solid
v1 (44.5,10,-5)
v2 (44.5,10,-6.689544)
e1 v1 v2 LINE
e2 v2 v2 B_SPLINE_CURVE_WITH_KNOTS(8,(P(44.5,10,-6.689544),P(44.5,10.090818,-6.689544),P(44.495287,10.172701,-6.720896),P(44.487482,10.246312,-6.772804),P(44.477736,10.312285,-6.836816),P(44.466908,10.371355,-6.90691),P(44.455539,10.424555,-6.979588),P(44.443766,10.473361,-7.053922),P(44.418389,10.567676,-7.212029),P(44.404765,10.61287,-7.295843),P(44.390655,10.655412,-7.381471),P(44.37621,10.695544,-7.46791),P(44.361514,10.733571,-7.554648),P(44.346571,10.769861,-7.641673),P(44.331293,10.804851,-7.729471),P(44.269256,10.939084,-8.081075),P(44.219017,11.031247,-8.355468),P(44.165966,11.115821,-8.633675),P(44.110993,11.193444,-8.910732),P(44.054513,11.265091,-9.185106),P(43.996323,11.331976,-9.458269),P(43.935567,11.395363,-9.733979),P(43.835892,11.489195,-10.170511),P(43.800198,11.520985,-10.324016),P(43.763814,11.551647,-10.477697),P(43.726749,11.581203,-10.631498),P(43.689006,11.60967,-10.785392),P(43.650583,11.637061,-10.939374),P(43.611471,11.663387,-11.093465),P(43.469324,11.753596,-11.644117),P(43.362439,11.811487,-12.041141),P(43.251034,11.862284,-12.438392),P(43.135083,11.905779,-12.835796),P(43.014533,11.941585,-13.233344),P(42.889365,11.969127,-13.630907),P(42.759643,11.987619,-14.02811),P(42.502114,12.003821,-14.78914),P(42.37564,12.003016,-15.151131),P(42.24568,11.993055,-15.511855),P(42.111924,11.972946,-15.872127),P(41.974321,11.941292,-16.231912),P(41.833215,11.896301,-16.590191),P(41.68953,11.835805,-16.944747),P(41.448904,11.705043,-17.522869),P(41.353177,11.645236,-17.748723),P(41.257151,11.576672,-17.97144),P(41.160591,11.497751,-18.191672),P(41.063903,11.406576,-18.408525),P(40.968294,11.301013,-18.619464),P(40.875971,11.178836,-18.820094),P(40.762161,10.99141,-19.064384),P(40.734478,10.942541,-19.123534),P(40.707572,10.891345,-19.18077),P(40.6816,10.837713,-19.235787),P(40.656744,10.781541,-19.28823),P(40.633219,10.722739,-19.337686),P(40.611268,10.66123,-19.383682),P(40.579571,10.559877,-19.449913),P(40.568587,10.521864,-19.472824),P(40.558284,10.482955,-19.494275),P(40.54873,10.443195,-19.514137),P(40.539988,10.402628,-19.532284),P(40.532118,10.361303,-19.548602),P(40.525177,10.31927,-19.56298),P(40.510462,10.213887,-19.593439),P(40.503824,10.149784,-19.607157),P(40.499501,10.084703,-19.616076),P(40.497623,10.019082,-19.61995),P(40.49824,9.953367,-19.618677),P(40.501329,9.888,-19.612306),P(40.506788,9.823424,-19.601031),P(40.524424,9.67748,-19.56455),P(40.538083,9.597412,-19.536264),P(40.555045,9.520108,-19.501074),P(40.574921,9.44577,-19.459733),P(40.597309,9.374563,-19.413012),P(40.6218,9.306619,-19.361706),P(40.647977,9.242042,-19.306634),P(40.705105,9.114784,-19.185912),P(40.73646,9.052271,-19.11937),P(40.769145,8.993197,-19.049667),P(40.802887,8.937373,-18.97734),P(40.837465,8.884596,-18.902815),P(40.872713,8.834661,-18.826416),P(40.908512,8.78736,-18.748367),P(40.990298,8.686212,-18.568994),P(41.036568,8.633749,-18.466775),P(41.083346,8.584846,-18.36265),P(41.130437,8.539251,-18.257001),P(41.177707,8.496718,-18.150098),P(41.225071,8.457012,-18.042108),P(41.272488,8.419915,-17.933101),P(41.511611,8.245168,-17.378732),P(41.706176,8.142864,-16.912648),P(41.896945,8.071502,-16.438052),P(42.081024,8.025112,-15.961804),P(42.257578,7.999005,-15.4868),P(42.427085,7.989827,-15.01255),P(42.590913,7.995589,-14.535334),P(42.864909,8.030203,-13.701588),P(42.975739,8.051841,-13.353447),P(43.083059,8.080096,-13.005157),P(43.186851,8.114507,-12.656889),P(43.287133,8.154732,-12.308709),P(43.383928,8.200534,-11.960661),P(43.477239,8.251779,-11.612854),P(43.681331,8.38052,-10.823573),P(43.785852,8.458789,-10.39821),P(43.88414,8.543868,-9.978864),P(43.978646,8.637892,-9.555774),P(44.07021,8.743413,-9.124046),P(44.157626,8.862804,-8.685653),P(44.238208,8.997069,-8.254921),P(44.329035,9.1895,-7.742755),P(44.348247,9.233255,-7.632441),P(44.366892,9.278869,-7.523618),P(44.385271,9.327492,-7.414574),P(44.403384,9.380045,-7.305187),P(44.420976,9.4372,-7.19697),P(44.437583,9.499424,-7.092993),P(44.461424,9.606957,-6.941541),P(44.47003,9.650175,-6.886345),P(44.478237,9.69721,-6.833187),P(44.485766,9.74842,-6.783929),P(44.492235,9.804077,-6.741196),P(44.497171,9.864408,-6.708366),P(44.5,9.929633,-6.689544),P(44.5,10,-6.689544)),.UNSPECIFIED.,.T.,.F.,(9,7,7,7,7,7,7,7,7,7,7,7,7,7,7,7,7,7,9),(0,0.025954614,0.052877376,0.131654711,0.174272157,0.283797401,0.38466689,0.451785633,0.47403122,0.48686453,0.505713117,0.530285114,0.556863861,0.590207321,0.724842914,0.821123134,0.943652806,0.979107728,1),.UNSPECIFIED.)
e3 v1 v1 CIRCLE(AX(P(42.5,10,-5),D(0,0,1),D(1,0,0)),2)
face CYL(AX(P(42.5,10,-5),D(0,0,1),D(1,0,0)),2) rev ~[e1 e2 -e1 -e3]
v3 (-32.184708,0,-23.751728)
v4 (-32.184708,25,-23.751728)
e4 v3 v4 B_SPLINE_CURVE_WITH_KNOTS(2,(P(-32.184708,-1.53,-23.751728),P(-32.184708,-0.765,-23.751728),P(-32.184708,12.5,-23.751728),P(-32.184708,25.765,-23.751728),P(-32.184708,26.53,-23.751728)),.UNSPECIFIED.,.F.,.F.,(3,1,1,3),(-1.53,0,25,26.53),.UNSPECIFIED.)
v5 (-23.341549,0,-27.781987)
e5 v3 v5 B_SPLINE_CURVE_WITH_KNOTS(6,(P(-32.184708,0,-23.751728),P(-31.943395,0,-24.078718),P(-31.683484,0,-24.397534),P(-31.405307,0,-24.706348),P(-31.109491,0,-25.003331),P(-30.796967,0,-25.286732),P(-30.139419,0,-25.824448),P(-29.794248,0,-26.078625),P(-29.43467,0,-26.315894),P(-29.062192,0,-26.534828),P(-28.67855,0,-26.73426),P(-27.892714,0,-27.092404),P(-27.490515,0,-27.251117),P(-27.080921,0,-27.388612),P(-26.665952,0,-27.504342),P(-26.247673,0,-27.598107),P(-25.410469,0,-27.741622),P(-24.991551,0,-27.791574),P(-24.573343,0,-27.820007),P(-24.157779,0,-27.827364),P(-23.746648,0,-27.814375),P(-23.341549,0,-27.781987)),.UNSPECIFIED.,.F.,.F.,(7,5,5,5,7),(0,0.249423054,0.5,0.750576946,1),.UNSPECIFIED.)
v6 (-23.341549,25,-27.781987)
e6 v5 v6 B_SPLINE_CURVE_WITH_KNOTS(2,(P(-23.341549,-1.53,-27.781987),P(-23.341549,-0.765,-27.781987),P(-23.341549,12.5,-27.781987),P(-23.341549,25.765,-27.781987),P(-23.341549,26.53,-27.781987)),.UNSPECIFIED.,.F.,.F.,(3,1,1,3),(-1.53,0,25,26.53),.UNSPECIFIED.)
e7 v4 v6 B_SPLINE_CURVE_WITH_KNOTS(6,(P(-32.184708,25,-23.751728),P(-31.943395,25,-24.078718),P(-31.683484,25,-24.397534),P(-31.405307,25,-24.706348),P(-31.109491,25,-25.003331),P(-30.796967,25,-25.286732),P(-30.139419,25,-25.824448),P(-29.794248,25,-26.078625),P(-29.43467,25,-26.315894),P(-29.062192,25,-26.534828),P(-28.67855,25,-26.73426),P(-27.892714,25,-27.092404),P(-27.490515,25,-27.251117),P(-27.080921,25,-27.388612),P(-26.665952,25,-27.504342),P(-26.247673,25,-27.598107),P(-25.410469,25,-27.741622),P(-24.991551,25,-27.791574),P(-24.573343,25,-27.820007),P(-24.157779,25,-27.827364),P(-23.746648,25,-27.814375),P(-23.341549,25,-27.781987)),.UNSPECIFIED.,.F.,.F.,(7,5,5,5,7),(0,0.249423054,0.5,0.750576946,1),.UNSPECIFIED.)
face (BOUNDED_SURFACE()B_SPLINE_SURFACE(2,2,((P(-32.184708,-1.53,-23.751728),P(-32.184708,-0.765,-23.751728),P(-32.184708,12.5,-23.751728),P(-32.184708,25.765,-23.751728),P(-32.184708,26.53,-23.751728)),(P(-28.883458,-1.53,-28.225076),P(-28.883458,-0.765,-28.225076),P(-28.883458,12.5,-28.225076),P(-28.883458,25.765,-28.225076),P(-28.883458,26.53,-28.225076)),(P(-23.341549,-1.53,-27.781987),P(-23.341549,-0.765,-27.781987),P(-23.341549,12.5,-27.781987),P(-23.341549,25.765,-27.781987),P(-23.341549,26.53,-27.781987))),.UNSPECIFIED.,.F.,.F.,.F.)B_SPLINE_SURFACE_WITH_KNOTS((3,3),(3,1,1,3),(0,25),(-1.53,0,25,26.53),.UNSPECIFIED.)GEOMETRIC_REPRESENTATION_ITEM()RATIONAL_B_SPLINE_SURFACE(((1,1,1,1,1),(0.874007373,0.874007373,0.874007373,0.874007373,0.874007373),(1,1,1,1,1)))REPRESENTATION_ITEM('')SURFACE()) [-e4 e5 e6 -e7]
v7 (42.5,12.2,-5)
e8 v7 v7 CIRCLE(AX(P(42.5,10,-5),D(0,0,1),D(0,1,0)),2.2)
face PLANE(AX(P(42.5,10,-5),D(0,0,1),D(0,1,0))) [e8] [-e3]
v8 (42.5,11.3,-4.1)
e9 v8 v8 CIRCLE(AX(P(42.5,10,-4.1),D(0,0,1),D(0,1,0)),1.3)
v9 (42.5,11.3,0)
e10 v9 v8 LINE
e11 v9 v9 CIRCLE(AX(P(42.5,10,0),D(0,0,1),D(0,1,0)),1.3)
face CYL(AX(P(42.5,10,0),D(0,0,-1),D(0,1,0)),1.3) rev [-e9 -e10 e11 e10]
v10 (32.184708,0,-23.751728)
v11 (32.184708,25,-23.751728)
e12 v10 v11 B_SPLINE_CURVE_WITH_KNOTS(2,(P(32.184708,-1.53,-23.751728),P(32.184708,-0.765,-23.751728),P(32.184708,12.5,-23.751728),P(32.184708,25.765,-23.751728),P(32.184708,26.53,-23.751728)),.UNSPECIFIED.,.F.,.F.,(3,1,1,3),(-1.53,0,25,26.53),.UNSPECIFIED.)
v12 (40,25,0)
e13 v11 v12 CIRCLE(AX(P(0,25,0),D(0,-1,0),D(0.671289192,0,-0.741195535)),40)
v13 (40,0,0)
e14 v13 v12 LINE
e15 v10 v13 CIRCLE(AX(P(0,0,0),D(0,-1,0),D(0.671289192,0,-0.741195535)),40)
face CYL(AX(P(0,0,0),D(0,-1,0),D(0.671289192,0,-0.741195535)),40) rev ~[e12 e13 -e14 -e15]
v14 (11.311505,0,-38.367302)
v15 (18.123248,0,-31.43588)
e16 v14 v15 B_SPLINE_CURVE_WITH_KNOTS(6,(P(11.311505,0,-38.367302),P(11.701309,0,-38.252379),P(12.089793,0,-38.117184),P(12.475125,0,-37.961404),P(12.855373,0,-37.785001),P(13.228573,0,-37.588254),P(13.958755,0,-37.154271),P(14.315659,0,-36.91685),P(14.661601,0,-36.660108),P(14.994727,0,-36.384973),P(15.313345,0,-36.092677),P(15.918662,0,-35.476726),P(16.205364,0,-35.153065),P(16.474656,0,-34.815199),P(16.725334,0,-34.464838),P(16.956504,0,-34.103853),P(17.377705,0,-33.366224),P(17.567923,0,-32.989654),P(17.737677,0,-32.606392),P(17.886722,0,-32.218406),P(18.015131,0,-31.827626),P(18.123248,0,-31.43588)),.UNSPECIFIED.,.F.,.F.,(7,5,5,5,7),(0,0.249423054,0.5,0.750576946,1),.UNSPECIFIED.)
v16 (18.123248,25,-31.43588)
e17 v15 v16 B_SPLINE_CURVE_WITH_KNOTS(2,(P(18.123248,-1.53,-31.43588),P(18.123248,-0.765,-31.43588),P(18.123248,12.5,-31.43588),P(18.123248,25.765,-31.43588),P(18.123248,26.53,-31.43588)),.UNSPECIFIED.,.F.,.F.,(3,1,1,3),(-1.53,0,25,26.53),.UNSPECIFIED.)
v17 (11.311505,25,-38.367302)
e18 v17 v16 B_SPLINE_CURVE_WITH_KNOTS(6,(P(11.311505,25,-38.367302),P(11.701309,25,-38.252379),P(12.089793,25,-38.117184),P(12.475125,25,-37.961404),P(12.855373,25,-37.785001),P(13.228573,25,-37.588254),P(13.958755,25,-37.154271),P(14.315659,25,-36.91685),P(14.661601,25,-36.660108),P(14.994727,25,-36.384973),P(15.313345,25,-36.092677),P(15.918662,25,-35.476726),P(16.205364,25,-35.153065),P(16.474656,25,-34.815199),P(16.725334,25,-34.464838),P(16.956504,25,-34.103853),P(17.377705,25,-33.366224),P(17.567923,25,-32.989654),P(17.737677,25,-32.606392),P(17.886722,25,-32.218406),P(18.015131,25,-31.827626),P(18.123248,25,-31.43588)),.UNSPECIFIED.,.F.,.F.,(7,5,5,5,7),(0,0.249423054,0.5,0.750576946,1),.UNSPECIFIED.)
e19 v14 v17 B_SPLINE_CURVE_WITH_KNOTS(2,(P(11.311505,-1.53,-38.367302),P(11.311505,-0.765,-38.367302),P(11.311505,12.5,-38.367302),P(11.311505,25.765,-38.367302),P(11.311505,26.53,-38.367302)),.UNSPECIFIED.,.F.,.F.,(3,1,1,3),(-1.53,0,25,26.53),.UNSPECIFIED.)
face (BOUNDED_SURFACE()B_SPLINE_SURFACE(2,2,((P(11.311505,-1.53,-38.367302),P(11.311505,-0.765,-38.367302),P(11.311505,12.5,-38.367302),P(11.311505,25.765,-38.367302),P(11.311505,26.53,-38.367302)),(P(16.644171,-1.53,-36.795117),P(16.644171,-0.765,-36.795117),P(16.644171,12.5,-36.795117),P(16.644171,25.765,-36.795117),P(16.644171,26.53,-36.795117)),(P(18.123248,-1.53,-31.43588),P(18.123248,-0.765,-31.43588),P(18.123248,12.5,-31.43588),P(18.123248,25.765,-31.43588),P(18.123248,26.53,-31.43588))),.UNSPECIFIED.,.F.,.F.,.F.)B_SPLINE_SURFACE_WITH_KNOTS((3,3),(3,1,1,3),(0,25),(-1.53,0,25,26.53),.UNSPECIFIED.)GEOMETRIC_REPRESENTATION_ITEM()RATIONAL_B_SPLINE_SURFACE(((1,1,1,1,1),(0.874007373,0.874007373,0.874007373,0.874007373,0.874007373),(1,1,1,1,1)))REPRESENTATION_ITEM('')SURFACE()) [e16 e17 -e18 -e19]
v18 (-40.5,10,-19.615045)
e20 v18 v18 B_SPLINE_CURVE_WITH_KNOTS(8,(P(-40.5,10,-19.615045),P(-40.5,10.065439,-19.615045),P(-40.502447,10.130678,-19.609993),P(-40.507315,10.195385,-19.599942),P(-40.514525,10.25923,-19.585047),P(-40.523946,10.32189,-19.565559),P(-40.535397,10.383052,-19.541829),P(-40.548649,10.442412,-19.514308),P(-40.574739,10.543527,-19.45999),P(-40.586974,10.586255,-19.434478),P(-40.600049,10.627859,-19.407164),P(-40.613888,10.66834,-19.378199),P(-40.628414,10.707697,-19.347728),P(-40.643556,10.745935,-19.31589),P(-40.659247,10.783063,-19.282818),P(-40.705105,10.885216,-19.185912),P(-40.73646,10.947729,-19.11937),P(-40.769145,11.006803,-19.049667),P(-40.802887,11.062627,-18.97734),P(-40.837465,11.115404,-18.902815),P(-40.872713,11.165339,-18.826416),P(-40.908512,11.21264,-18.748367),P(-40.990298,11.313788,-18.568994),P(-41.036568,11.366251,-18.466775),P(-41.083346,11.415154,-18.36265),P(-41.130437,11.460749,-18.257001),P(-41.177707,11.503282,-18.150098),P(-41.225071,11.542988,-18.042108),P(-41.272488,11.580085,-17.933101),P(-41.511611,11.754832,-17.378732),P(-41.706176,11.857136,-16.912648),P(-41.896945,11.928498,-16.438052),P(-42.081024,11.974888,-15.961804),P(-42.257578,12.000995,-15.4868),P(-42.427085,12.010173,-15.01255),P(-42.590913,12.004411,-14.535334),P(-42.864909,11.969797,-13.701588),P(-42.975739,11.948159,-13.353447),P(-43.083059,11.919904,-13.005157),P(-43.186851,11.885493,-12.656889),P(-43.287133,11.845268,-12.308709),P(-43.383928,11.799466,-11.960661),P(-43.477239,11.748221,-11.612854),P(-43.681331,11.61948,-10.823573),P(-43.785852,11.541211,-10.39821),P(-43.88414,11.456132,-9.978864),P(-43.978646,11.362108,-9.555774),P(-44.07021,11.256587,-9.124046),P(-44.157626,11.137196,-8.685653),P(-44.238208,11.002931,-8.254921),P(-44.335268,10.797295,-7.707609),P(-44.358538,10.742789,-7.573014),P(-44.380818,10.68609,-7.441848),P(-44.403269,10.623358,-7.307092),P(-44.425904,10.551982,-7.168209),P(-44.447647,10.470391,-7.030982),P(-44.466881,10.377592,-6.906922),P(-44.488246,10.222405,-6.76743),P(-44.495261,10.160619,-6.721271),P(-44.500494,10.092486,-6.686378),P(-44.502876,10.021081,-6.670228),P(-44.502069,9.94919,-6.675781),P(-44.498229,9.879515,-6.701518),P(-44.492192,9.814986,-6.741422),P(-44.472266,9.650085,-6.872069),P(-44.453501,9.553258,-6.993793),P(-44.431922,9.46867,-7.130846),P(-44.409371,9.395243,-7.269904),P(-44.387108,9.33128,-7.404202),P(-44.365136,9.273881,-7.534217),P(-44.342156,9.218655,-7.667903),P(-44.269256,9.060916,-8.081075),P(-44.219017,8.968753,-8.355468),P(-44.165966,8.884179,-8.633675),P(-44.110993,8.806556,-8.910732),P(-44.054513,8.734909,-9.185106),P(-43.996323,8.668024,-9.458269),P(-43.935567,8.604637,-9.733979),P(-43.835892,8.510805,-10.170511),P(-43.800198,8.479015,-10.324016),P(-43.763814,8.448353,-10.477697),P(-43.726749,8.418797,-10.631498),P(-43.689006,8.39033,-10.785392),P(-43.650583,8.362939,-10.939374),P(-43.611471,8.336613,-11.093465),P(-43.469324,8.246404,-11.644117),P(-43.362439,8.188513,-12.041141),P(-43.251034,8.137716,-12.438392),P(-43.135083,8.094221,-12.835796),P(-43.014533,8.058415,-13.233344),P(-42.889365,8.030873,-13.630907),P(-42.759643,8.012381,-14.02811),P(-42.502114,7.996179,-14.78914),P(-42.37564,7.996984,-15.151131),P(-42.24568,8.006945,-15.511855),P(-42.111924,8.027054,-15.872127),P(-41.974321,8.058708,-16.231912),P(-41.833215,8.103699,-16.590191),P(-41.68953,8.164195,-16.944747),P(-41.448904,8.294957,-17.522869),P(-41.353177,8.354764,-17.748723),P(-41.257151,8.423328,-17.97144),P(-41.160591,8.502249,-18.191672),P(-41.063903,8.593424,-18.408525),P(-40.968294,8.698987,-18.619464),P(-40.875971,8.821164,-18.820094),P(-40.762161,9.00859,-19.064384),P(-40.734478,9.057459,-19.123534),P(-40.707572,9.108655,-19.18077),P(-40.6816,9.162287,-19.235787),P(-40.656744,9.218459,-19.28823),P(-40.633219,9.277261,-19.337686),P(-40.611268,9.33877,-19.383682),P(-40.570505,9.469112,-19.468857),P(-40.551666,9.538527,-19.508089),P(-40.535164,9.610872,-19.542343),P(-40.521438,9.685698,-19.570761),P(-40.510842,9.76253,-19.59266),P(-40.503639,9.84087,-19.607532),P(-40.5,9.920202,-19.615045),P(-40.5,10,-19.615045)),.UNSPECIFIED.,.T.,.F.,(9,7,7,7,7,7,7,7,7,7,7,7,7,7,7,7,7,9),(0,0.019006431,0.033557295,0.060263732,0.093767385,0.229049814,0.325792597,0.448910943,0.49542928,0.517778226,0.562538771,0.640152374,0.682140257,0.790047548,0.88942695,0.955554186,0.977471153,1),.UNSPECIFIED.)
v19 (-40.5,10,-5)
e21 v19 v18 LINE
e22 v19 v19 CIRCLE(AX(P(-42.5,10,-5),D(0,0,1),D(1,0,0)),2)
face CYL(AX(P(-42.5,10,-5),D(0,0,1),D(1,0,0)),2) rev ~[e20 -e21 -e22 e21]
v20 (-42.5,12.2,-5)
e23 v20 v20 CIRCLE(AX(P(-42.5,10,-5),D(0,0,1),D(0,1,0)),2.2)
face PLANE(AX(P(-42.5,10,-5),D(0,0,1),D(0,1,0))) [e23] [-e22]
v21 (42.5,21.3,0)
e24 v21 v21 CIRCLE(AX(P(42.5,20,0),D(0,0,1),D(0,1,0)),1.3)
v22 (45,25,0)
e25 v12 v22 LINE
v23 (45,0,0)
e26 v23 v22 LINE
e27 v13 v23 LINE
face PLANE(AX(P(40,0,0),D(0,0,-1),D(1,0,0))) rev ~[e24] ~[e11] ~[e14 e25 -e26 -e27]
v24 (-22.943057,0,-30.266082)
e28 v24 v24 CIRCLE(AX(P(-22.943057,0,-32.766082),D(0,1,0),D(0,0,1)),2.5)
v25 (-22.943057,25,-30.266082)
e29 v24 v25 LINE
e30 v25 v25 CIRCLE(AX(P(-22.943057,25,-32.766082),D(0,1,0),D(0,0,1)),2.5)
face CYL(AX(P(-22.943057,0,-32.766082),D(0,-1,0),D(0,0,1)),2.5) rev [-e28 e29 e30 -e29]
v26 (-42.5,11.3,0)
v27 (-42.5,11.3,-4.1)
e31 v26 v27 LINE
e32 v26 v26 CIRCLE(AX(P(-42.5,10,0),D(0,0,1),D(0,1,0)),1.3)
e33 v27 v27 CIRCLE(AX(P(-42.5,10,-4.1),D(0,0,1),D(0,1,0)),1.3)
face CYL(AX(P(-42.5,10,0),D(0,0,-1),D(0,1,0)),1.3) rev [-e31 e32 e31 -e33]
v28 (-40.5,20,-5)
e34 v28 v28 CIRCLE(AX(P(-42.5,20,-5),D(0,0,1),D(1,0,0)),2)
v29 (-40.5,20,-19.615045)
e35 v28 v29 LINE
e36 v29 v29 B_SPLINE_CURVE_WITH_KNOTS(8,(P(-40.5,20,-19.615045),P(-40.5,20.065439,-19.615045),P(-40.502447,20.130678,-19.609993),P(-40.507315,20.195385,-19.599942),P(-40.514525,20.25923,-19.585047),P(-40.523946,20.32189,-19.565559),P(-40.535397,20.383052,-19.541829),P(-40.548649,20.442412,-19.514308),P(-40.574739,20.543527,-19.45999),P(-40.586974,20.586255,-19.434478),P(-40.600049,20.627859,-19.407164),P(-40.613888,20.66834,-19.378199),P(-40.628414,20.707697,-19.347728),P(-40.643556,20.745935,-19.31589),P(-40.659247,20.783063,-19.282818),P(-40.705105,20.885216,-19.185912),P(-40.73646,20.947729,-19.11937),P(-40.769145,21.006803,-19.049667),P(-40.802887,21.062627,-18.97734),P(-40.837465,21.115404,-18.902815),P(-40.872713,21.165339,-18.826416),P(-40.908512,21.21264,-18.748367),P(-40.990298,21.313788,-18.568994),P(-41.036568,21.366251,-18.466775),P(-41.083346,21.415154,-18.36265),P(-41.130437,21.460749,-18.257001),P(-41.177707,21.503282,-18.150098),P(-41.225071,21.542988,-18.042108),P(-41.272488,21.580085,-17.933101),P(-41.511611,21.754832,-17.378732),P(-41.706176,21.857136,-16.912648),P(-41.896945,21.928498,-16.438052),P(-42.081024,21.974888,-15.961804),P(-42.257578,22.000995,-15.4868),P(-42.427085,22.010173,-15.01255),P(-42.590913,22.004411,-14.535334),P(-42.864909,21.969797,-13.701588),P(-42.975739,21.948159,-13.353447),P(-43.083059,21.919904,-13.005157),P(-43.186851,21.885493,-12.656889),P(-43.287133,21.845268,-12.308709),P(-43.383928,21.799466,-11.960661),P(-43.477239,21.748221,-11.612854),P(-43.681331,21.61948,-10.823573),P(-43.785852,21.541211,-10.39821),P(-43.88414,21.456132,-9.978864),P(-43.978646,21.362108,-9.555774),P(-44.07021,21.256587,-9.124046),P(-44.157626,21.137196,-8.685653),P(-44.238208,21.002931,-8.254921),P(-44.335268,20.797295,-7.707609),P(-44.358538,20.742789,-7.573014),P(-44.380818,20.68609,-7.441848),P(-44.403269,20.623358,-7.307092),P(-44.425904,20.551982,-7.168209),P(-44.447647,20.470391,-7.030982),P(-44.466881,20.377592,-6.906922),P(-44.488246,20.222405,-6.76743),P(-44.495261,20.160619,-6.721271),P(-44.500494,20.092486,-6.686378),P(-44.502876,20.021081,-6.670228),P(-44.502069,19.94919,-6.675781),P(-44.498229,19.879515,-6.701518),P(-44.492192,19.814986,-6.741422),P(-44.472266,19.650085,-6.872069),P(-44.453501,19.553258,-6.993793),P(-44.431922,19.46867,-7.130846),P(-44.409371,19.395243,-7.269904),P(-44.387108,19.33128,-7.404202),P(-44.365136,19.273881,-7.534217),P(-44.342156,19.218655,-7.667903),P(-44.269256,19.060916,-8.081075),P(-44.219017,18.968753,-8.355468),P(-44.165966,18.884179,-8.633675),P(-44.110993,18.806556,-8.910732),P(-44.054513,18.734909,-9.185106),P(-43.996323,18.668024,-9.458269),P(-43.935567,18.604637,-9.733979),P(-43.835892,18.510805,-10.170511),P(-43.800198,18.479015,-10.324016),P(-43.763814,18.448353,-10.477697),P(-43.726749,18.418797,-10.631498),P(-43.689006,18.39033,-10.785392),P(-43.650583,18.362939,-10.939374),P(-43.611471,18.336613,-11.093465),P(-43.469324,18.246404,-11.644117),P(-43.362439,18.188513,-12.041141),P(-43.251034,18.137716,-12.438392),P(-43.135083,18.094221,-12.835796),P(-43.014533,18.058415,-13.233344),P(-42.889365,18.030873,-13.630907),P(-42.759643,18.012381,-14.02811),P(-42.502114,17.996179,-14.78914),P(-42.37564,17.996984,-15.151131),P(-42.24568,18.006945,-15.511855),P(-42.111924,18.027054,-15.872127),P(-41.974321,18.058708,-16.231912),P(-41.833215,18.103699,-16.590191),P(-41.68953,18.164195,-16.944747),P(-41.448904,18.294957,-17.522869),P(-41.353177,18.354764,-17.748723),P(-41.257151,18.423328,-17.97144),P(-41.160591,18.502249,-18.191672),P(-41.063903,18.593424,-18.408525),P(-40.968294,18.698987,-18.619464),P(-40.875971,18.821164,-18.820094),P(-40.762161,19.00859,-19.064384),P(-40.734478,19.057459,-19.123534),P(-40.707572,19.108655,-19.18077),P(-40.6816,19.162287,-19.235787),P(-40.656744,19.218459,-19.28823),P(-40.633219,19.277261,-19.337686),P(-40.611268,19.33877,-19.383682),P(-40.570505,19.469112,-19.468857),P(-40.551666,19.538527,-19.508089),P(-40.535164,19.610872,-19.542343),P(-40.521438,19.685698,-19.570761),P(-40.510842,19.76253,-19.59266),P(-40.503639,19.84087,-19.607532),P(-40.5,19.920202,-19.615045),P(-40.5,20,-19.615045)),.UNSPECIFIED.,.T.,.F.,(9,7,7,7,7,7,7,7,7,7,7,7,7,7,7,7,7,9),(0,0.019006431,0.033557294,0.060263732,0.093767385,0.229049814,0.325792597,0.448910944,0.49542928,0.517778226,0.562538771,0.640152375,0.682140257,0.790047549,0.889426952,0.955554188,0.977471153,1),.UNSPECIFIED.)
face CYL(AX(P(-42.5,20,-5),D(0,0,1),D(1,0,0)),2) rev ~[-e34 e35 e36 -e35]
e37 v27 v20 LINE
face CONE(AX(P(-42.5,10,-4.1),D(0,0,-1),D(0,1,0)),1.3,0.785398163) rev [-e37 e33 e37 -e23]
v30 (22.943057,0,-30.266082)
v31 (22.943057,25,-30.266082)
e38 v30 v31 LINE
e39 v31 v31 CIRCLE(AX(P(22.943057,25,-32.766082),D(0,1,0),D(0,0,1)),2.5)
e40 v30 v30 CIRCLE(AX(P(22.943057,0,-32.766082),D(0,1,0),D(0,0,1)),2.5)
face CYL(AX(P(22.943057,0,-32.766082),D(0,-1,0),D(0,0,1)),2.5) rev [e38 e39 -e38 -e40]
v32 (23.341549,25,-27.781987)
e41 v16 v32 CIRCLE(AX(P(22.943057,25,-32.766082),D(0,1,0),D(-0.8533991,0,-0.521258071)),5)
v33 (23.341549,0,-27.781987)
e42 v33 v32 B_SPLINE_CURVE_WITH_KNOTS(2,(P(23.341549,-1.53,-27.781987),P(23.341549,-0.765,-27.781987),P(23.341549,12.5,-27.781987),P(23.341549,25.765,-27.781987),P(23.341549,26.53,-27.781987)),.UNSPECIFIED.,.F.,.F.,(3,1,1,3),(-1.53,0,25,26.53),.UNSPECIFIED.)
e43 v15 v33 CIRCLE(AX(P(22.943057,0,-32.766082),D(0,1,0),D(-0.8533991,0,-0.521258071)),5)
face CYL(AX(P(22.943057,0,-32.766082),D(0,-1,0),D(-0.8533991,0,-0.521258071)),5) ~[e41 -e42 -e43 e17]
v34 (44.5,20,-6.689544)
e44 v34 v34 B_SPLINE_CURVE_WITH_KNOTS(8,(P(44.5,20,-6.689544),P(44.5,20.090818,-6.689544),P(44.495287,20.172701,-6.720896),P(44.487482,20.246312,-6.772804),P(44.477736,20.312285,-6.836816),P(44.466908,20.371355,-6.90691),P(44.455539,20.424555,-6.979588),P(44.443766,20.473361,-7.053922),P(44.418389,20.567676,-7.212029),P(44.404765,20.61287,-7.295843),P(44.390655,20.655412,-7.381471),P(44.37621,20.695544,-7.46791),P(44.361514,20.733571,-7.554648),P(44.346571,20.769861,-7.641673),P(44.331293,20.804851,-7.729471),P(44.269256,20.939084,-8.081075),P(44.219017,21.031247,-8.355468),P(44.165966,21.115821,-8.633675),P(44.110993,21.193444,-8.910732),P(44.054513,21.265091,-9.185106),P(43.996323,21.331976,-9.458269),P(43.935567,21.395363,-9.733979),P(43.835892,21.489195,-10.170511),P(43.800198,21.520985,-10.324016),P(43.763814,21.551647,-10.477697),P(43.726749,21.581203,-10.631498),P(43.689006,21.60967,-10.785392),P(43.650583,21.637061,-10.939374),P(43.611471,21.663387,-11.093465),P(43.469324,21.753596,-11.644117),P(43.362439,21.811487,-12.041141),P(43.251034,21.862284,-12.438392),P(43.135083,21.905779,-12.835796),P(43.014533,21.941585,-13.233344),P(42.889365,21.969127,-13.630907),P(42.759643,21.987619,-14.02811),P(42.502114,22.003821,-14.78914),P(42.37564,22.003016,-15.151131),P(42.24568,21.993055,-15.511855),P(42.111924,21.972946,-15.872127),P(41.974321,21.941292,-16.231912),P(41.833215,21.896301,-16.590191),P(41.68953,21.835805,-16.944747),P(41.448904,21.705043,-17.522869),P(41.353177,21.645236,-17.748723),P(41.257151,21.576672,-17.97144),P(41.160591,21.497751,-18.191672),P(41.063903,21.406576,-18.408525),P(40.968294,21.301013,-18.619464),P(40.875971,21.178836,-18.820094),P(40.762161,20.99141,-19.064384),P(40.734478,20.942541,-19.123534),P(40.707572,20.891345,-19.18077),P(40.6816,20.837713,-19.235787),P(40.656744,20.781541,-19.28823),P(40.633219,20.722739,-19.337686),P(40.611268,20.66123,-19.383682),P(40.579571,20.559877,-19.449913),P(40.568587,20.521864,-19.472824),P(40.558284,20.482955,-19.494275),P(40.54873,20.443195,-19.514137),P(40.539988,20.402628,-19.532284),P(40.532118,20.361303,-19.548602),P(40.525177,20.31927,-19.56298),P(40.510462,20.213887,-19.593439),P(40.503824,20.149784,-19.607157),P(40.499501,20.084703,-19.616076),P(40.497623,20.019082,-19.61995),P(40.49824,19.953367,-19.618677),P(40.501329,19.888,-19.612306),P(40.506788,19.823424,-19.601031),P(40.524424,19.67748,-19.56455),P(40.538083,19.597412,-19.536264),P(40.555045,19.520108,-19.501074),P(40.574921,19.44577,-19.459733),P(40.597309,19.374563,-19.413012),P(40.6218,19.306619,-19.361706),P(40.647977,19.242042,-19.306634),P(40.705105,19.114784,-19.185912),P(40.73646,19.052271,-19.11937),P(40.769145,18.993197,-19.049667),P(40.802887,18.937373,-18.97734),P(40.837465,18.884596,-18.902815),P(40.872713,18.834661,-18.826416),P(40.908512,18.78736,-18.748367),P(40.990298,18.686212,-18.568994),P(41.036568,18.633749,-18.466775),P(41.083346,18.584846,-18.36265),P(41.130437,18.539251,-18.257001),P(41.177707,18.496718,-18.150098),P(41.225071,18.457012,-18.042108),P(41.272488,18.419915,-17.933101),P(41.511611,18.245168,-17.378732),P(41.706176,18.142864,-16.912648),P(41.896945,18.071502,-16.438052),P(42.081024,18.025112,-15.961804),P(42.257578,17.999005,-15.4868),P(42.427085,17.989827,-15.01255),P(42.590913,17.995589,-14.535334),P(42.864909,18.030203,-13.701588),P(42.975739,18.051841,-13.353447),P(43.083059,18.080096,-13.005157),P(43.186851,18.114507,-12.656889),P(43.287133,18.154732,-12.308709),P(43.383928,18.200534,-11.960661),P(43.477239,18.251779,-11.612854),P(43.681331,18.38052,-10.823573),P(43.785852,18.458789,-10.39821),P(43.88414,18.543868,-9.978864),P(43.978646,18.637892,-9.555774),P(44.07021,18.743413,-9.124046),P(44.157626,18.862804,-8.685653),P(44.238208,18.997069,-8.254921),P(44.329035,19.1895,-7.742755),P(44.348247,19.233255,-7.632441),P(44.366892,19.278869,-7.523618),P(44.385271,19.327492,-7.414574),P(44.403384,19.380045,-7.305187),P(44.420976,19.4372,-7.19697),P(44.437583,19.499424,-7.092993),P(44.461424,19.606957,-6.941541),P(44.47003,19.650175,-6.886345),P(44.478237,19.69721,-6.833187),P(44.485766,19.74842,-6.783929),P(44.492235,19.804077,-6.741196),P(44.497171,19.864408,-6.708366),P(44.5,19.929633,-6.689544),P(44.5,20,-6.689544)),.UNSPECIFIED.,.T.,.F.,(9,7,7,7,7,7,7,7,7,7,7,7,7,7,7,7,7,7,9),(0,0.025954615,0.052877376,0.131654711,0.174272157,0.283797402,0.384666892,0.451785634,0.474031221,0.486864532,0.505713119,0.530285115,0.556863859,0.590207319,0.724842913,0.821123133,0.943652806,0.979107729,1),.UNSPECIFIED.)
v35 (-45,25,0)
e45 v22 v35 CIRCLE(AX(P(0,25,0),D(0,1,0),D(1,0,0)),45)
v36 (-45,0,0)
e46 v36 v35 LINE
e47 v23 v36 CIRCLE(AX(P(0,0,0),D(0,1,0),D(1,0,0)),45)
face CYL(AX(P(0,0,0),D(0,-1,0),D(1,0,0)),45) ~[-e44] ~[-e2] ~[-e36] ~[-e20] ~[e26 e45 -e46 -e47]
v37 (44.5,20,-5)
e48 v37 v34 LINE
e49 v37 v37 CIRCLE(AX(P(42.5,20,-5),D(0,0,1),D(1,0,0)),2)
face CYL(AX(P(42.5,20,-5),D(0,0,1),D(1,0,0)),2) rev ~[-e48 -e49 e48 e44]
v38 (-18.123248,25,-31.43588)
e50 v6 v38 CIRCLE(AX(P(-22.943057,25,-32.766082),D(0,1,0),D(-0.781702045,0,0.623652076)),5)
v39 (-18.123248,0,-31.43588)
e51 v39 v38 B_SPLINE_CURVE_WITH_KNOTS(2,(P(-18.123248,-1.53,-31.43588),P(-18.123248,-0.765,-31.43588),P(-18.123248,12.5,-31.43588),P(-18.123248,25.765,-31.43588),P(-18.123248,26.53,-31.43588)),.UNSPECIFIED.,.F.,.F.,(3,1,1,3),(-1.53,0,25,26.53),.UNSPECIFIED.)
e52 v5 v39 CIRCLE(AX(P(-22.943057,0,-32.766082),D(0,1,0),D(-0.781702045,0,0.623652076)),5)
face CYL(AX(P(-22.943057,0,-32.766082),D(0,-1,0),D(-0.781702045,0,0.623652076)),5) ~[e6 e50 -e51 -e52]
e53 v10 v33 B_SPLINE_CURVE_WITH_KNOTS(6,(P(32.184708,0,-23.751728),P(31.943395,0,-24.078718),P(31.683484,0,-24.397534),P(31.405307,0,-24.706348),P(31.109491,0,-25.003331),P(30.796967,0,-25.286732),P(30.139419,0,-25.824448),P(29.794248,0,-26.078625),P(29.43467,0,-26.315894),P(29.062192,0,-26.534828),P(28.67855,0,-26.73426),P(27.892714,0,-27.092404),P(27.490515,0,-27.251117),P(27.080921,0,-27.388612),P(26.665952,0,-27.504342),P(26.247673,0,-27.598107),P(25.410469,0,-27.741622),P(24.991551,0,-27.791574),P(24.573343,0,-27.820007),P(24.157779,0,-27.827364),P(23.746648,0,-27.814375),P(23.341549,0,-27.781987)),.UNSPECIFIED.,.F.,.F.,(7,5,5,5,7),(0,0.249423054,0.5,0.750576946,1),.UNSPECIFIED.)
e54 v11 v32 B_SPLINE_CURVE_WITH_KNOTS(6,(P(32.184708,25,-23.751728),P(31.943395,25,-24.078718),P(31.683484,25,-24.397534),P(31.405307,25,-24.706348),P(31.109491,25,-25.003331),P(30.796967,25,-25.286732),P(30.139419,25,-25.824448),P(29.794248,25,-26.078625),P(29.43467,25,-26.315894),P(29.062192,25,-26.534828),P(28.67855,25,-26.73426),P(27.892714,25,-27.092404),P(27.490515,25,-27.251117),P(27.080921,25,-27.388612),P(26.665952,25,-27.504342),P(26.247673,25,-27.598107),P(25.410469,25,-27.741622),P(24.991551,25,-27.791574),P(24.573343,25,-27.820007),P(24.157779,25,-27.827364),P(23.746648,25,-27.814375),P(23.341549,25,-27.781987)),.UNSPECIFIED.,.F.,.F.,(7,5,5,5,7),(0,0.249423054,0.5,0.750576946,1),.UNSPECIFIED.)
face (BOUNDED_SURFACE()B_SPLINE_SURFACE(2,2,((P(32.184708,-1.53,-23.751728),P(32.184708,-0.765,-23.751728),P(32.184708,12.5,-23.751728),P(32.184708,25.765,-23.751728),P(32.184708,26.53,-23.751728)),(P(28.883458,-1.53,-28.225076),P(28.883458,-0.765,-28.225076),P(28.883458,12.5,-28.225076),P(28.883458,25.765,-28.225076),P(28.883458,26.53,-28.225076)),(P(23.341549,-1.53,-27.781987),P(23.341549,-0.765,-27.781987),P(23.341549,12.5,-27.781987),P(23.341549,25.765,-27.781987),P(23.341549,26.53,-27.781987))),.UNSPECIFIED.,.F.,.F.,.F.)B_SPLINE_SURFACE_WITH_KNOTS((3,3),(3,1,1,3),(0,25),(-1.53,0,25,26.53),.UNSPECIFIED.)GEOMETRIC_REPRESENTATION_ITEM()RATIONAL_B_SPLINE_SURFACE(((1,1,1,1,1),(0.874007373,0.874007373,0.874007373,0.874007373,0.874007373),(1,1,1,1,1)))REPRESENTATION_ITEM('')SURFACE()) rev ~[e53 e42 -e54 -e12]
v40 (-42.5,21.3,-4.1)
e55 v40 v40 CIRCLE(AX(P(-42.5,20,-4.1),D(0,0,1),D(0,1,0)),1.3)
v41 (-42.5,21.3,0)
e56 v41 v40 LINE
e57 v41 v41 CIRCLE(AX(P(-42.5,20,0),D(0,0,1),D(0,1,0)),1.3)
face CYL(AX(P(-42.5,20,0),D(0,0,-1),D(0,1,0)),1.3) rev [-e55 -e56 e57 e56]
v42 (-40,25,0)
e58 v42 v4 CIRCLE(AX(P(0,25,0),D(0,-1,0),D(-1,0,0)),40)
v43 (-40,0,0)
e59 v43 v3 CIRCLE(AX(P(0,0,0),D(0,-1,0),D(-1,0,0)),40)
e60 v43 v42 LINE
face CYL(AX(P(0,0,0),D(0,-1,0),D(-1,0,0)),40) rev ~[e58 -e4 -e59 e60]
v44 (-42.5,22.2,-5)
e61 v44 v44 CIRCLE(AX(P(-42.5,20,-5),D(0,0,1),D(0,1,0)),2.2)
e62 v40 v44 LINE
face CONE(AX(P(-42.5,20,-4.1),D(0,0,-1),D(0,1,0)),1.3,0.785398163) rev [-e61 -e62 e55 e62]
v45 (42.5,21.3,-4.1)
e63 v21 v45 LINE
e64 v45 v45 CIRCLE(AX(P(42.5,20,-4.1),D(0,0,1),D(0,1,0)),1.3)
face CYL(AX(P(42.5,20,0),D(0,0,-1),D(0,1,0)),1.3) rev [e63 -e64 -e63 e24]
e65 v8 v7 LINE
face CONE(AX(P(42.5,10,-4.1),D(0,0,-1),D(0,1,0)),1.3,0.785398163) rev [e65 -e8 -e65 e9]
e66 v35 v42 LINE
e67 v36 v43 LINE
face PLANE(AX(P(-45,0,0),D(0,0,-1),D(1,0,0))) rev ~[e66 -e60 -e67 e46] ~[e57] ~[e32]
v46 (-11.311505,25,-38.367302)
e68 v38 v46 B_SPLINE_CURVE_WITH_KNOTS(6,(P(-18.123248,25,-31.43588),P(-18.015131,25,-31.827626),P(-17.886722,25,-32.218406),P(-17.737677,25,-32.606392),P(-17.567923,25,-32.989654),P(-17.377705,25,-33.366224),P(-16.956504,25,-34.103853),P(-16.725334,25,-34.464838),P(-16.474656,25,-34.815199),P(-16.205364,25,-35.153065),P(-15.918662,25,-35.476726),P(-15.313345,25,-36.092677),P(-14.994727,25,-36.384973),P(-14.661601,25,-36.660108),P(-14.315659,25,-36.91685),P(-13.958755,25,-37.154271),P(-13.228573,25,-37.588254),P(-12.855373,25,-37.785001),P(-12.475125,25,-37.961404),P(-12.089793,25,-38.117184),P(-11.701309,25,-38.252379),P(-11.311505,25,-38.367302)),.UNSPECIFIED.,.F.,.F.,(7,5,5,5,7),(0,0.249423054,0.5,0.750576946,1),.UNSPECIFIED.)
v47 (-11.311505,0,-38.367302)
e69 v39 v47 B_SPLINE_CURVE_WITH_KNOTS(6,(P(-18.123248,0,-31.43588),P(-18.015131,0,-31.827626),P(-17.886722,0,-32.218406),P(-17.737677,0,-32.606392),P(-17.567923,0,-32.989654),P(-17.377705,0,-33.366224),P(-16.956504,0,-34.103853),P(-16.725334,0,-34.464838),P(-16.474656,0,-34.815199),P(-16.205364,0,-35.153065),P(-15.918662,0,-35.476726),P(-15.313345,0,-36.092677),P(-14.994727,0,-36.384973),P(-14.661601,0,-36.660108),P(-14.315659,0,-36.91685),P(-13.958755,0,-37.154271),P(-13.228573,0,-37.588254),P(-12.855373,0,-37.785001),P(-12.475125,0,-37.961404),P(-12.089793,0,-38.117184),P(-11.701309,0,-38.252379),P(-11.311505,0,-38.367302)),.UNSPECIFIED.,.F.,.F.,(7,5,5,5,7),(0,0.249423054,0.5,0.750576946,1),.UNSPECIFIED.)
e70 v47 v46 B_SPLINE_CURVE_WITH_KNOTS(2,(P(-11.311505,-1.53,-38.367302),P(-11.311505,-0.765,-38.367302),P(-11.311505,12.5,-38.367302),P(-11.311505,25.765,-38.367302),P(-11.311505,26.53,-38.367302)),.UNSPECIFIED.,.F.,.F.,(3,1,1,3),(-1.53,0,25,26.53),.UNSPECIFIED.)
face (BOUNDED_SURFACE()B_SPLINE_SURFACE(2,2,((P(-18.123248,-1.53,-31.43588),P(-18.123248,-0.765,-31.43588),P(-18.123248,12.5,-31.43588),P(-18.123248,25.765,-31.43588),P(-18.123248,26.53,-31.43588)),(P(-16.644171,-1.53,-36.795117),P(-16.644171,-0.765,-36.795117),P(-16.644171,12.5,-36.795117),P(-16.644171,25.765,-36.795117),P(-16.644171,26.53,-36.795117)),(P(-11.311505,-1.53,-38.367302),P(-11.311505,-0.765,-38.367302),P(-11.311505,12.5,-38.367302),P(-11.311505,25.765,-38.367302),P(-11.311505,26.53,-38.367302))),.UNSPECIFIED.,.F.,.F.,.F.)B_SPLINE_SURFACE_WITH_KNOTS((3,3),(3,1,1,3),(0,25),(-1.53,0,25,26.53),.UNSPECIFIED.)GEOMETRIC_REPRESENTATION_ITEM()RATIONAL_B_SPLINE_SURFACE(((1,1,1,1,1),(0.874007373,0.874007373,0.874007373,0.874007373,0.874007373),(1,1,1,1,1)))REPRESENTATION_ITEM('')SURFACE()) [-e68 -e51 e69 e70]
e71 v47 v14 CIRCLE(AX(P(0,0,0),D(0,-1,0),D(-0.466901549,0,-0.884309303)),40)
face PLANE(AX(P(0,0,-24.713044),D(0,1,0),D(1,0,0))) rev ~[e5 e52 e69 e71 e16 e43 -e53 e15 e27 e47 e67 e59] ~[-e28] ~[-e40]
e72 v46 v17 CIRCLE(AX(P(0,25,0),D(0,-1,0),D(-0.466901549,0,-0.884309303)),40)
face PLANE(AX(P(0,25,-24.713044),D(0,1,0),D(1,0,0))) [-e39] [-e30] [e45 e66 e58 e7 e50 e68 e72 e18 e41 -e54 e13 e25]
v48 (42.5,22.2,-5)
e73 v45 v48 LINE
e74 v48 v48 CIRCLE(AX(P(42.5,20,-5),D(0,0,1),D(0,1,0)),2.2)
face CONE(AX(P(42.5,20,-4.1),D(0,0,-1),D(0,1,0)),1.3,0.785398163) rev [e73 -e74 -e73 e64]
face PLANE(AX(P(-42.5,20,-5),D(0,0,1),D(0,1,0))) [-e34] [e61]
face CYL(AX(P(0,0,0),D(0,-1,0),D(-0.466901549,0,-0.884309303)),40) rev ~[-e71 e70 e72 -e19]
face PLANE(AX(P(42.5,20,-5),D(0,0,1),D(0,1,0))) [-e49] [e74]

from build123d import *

# Parameters (mm, degrees)
SKETCH1_R                                      = 2.5
BOSS_EXTRUDE1_DEPTH                            = 25
CUT_EXTRUDE3_START                             = -5
SKETCH6_R                                      = 2
CUT_EXTRUDE3_DEPTH                             = 64.373971656
SKETCH7_R                                      = 1
CUT_EXTRUDE4_DEPTH                             = 69.373971824
FILLET1_R                                      = 10
CSK_FOR_M2_FLAT_HEAD_MACHINE_SCREW1_AT_2_COUNT = 2
CSK_FOR_M2_FLAT_HEAD_MACHINE_SCREW1_AT_2_PITCH = 85.586213843
CSK_FOR_M2_FLAT_HEAD_MACHINE_SCREW2_AT_2_COUNT = 2
CSK_FOR_M2_FLAT_HEAD_MACHINE_SCREW2_AT_2_PITCH = 85.586213843


with BuildPart() as part:
    # Sketch1 → Boss-Extrude1 (new body)
    with BuildSketch(Plane(origin=(0, 0, 0), x_dir=(1, 0, 0), z_dir=(0, 1, 0))):
        with BuildLine():
            Line((-45, 0), (-40, 0))
            ThreePointArc((-40, 0), (-36.565439333, 16.216308038), (-26.85156768, 29.647821389))
            ThreePointArc((-26.85156768, 29.647821389), (-20.075175272, 28.67032155), (-18.676061955, 35.372372126))
            ThreePointArc((-18.676061955, 35.372372126), (0, 40), (18.676061955, 35.372372126))
            ThreePointArc((18.676061955, 35.372372126), (20.075175272, 28.67032155), (26.85156768, 29.647821389))
            ThreePointArc((26.85156768, 29.647821389), (36.565439333, 16.216308038), (40, 0))
            Line((40, 0), (45, 0))
            ThreePointArc((45, 0), (0, 45), (-45, 0))
        make_face()
        with Locations(Location((22.943057454, 32.766081772, 0), (0, 0, 270))):
            Circle(SKETCH1_R, mode=Mode.SUBTRACT)
        with Locations(Location((-22.943057454, 32.766081772, 0), (0, 0, 270))):
            Circle(SKETCH1_R, mode=Mode.SUBTRACT)
    extrude(amount=BOSS_EXTRUDE1_DEPTH)

    # Sketch6 → Cut-Extrude3 (cut, through all)
    with BuildSketch(Plane.XY.offset(CUT_EXTRUDE3_START)):
        with Locations((-42.5, 20)):
            Circle(SKETCH6_R)
        with Locations((-42.5, 10)):
            Circle(SKETCH6_R)
        with Locations((42.5, 20)):
            Circle(SKETCH6_R)
        with Locations((42.5, 10)):
            Circle(SKETCH6_R)
    extrude(amount=-CUT_EXTRUDE3_DEPTH, mode=Mode.SUBTRACT)

    # Sketch7 → Cut-Extrude4 (cut, through all)
    with BuildSketch(Plane.XY):
        with Locations((-42.5, 20)):
            Circle(SKETCH7_R)
        with Locations((-42.5, 10)):
            Circle(SKETCH7_R)
        with Locations((42.5, 10)):
            Circle(SKETCH7_R)
        with Locations((42.5, 20)):
            Circle(SKETCH7_R)
    extrude(amount=-CUT_EXTRUDE4_DEPTH, mode=Mode.SUBTRACT)

    # Fillet1
    fillet1_edges = [part.edges().sort_by_distance(p)[0] for p in [
        (26.85156768, 12.5, -29.647821389),
        (18.676061955, 12.5, -35.372372126),
        (-18.676061955, 12.5, -35.372372126),
        (-26.85156768, 12.5, -29.647821389),
    ]]
    fillet(fillet1_edges, radius=FILLET1_R)

    # Sketch17 → CSK for M2 Flat Head Machine Screw1 (revolve, cut)
    with BuildSketch(Plane(origin=(-42.5, 20, -5), x_dir=(0, 1, 0), z_dir=(1, 0, 0))):
        Polygon((0, 0), (0, 5), (1.3, 5), (1.3, 0.9), (2.2, 0), align=None)
    csk_for_m2_flat_head_machine_screw1 = revolve(axis=Axis((-42.5, 20, -11.35), (0, 0, 1)), mode=Mode.SUBTRACT)

    # CSK for M2 Flat Head Machine Screw1 at 2: CSK for M2 Flat Head Machine Screw1 ×2
    with Locations(*[Vector(0.9931506043228763, -0.11684124756739721, 0) * (i * CSK_FOR_M2_FLAT_HEAD_MACHINE_SCREW1_AT_2_PITCH) for i in range(1, CSK_FOR_M2_FLAT_HEAD_MACHINE_SCREW1_AT_2_COUNT)]):
        add(csk_for_m2_flat_head_machine_screw1, mode=Mode.SUBTRACT)

    # Sketch18 → CSK for M2 Flat Head Machine Screw2 (revolve, cut)
    with BuildSketch(Plane(origin=(42.5, 20, -5), x_dir=(0, 1, 0), z_dir=(1, 0, 0))):
        Polygon((0, 0), (0, 5), (1.3, 5), (1.3, 0.9), (2.2, 0), align=None)
    csk_for_m2_flat_head_machine_screw2 = revolve(axis=Axis((42.5, 20, -11.35), (0, 0, 1)), mode=Mode.SUBTRACT)

    # CSK for M2 Flat Head Machine Screw2 at 2: CSK for M2 Flat Head Machine Screw2 ×2
    with Locations(*[Vector(-0.9931506043228763, -0.11684124756739721, 0) * (i * CSK_FOR_M2_FLAT_HEAD_MACHINE_SCREW2_AT_2_PITCH) for i in range(1, CSK_FOR_M2_FLAT_HEAD_MACHINE_SCREW2_AT_2_COUNT)]):
        add(csk_for_m2_flat_head_machine_screw2, mode=Mode.SUBTRACT)


solid = part.part
